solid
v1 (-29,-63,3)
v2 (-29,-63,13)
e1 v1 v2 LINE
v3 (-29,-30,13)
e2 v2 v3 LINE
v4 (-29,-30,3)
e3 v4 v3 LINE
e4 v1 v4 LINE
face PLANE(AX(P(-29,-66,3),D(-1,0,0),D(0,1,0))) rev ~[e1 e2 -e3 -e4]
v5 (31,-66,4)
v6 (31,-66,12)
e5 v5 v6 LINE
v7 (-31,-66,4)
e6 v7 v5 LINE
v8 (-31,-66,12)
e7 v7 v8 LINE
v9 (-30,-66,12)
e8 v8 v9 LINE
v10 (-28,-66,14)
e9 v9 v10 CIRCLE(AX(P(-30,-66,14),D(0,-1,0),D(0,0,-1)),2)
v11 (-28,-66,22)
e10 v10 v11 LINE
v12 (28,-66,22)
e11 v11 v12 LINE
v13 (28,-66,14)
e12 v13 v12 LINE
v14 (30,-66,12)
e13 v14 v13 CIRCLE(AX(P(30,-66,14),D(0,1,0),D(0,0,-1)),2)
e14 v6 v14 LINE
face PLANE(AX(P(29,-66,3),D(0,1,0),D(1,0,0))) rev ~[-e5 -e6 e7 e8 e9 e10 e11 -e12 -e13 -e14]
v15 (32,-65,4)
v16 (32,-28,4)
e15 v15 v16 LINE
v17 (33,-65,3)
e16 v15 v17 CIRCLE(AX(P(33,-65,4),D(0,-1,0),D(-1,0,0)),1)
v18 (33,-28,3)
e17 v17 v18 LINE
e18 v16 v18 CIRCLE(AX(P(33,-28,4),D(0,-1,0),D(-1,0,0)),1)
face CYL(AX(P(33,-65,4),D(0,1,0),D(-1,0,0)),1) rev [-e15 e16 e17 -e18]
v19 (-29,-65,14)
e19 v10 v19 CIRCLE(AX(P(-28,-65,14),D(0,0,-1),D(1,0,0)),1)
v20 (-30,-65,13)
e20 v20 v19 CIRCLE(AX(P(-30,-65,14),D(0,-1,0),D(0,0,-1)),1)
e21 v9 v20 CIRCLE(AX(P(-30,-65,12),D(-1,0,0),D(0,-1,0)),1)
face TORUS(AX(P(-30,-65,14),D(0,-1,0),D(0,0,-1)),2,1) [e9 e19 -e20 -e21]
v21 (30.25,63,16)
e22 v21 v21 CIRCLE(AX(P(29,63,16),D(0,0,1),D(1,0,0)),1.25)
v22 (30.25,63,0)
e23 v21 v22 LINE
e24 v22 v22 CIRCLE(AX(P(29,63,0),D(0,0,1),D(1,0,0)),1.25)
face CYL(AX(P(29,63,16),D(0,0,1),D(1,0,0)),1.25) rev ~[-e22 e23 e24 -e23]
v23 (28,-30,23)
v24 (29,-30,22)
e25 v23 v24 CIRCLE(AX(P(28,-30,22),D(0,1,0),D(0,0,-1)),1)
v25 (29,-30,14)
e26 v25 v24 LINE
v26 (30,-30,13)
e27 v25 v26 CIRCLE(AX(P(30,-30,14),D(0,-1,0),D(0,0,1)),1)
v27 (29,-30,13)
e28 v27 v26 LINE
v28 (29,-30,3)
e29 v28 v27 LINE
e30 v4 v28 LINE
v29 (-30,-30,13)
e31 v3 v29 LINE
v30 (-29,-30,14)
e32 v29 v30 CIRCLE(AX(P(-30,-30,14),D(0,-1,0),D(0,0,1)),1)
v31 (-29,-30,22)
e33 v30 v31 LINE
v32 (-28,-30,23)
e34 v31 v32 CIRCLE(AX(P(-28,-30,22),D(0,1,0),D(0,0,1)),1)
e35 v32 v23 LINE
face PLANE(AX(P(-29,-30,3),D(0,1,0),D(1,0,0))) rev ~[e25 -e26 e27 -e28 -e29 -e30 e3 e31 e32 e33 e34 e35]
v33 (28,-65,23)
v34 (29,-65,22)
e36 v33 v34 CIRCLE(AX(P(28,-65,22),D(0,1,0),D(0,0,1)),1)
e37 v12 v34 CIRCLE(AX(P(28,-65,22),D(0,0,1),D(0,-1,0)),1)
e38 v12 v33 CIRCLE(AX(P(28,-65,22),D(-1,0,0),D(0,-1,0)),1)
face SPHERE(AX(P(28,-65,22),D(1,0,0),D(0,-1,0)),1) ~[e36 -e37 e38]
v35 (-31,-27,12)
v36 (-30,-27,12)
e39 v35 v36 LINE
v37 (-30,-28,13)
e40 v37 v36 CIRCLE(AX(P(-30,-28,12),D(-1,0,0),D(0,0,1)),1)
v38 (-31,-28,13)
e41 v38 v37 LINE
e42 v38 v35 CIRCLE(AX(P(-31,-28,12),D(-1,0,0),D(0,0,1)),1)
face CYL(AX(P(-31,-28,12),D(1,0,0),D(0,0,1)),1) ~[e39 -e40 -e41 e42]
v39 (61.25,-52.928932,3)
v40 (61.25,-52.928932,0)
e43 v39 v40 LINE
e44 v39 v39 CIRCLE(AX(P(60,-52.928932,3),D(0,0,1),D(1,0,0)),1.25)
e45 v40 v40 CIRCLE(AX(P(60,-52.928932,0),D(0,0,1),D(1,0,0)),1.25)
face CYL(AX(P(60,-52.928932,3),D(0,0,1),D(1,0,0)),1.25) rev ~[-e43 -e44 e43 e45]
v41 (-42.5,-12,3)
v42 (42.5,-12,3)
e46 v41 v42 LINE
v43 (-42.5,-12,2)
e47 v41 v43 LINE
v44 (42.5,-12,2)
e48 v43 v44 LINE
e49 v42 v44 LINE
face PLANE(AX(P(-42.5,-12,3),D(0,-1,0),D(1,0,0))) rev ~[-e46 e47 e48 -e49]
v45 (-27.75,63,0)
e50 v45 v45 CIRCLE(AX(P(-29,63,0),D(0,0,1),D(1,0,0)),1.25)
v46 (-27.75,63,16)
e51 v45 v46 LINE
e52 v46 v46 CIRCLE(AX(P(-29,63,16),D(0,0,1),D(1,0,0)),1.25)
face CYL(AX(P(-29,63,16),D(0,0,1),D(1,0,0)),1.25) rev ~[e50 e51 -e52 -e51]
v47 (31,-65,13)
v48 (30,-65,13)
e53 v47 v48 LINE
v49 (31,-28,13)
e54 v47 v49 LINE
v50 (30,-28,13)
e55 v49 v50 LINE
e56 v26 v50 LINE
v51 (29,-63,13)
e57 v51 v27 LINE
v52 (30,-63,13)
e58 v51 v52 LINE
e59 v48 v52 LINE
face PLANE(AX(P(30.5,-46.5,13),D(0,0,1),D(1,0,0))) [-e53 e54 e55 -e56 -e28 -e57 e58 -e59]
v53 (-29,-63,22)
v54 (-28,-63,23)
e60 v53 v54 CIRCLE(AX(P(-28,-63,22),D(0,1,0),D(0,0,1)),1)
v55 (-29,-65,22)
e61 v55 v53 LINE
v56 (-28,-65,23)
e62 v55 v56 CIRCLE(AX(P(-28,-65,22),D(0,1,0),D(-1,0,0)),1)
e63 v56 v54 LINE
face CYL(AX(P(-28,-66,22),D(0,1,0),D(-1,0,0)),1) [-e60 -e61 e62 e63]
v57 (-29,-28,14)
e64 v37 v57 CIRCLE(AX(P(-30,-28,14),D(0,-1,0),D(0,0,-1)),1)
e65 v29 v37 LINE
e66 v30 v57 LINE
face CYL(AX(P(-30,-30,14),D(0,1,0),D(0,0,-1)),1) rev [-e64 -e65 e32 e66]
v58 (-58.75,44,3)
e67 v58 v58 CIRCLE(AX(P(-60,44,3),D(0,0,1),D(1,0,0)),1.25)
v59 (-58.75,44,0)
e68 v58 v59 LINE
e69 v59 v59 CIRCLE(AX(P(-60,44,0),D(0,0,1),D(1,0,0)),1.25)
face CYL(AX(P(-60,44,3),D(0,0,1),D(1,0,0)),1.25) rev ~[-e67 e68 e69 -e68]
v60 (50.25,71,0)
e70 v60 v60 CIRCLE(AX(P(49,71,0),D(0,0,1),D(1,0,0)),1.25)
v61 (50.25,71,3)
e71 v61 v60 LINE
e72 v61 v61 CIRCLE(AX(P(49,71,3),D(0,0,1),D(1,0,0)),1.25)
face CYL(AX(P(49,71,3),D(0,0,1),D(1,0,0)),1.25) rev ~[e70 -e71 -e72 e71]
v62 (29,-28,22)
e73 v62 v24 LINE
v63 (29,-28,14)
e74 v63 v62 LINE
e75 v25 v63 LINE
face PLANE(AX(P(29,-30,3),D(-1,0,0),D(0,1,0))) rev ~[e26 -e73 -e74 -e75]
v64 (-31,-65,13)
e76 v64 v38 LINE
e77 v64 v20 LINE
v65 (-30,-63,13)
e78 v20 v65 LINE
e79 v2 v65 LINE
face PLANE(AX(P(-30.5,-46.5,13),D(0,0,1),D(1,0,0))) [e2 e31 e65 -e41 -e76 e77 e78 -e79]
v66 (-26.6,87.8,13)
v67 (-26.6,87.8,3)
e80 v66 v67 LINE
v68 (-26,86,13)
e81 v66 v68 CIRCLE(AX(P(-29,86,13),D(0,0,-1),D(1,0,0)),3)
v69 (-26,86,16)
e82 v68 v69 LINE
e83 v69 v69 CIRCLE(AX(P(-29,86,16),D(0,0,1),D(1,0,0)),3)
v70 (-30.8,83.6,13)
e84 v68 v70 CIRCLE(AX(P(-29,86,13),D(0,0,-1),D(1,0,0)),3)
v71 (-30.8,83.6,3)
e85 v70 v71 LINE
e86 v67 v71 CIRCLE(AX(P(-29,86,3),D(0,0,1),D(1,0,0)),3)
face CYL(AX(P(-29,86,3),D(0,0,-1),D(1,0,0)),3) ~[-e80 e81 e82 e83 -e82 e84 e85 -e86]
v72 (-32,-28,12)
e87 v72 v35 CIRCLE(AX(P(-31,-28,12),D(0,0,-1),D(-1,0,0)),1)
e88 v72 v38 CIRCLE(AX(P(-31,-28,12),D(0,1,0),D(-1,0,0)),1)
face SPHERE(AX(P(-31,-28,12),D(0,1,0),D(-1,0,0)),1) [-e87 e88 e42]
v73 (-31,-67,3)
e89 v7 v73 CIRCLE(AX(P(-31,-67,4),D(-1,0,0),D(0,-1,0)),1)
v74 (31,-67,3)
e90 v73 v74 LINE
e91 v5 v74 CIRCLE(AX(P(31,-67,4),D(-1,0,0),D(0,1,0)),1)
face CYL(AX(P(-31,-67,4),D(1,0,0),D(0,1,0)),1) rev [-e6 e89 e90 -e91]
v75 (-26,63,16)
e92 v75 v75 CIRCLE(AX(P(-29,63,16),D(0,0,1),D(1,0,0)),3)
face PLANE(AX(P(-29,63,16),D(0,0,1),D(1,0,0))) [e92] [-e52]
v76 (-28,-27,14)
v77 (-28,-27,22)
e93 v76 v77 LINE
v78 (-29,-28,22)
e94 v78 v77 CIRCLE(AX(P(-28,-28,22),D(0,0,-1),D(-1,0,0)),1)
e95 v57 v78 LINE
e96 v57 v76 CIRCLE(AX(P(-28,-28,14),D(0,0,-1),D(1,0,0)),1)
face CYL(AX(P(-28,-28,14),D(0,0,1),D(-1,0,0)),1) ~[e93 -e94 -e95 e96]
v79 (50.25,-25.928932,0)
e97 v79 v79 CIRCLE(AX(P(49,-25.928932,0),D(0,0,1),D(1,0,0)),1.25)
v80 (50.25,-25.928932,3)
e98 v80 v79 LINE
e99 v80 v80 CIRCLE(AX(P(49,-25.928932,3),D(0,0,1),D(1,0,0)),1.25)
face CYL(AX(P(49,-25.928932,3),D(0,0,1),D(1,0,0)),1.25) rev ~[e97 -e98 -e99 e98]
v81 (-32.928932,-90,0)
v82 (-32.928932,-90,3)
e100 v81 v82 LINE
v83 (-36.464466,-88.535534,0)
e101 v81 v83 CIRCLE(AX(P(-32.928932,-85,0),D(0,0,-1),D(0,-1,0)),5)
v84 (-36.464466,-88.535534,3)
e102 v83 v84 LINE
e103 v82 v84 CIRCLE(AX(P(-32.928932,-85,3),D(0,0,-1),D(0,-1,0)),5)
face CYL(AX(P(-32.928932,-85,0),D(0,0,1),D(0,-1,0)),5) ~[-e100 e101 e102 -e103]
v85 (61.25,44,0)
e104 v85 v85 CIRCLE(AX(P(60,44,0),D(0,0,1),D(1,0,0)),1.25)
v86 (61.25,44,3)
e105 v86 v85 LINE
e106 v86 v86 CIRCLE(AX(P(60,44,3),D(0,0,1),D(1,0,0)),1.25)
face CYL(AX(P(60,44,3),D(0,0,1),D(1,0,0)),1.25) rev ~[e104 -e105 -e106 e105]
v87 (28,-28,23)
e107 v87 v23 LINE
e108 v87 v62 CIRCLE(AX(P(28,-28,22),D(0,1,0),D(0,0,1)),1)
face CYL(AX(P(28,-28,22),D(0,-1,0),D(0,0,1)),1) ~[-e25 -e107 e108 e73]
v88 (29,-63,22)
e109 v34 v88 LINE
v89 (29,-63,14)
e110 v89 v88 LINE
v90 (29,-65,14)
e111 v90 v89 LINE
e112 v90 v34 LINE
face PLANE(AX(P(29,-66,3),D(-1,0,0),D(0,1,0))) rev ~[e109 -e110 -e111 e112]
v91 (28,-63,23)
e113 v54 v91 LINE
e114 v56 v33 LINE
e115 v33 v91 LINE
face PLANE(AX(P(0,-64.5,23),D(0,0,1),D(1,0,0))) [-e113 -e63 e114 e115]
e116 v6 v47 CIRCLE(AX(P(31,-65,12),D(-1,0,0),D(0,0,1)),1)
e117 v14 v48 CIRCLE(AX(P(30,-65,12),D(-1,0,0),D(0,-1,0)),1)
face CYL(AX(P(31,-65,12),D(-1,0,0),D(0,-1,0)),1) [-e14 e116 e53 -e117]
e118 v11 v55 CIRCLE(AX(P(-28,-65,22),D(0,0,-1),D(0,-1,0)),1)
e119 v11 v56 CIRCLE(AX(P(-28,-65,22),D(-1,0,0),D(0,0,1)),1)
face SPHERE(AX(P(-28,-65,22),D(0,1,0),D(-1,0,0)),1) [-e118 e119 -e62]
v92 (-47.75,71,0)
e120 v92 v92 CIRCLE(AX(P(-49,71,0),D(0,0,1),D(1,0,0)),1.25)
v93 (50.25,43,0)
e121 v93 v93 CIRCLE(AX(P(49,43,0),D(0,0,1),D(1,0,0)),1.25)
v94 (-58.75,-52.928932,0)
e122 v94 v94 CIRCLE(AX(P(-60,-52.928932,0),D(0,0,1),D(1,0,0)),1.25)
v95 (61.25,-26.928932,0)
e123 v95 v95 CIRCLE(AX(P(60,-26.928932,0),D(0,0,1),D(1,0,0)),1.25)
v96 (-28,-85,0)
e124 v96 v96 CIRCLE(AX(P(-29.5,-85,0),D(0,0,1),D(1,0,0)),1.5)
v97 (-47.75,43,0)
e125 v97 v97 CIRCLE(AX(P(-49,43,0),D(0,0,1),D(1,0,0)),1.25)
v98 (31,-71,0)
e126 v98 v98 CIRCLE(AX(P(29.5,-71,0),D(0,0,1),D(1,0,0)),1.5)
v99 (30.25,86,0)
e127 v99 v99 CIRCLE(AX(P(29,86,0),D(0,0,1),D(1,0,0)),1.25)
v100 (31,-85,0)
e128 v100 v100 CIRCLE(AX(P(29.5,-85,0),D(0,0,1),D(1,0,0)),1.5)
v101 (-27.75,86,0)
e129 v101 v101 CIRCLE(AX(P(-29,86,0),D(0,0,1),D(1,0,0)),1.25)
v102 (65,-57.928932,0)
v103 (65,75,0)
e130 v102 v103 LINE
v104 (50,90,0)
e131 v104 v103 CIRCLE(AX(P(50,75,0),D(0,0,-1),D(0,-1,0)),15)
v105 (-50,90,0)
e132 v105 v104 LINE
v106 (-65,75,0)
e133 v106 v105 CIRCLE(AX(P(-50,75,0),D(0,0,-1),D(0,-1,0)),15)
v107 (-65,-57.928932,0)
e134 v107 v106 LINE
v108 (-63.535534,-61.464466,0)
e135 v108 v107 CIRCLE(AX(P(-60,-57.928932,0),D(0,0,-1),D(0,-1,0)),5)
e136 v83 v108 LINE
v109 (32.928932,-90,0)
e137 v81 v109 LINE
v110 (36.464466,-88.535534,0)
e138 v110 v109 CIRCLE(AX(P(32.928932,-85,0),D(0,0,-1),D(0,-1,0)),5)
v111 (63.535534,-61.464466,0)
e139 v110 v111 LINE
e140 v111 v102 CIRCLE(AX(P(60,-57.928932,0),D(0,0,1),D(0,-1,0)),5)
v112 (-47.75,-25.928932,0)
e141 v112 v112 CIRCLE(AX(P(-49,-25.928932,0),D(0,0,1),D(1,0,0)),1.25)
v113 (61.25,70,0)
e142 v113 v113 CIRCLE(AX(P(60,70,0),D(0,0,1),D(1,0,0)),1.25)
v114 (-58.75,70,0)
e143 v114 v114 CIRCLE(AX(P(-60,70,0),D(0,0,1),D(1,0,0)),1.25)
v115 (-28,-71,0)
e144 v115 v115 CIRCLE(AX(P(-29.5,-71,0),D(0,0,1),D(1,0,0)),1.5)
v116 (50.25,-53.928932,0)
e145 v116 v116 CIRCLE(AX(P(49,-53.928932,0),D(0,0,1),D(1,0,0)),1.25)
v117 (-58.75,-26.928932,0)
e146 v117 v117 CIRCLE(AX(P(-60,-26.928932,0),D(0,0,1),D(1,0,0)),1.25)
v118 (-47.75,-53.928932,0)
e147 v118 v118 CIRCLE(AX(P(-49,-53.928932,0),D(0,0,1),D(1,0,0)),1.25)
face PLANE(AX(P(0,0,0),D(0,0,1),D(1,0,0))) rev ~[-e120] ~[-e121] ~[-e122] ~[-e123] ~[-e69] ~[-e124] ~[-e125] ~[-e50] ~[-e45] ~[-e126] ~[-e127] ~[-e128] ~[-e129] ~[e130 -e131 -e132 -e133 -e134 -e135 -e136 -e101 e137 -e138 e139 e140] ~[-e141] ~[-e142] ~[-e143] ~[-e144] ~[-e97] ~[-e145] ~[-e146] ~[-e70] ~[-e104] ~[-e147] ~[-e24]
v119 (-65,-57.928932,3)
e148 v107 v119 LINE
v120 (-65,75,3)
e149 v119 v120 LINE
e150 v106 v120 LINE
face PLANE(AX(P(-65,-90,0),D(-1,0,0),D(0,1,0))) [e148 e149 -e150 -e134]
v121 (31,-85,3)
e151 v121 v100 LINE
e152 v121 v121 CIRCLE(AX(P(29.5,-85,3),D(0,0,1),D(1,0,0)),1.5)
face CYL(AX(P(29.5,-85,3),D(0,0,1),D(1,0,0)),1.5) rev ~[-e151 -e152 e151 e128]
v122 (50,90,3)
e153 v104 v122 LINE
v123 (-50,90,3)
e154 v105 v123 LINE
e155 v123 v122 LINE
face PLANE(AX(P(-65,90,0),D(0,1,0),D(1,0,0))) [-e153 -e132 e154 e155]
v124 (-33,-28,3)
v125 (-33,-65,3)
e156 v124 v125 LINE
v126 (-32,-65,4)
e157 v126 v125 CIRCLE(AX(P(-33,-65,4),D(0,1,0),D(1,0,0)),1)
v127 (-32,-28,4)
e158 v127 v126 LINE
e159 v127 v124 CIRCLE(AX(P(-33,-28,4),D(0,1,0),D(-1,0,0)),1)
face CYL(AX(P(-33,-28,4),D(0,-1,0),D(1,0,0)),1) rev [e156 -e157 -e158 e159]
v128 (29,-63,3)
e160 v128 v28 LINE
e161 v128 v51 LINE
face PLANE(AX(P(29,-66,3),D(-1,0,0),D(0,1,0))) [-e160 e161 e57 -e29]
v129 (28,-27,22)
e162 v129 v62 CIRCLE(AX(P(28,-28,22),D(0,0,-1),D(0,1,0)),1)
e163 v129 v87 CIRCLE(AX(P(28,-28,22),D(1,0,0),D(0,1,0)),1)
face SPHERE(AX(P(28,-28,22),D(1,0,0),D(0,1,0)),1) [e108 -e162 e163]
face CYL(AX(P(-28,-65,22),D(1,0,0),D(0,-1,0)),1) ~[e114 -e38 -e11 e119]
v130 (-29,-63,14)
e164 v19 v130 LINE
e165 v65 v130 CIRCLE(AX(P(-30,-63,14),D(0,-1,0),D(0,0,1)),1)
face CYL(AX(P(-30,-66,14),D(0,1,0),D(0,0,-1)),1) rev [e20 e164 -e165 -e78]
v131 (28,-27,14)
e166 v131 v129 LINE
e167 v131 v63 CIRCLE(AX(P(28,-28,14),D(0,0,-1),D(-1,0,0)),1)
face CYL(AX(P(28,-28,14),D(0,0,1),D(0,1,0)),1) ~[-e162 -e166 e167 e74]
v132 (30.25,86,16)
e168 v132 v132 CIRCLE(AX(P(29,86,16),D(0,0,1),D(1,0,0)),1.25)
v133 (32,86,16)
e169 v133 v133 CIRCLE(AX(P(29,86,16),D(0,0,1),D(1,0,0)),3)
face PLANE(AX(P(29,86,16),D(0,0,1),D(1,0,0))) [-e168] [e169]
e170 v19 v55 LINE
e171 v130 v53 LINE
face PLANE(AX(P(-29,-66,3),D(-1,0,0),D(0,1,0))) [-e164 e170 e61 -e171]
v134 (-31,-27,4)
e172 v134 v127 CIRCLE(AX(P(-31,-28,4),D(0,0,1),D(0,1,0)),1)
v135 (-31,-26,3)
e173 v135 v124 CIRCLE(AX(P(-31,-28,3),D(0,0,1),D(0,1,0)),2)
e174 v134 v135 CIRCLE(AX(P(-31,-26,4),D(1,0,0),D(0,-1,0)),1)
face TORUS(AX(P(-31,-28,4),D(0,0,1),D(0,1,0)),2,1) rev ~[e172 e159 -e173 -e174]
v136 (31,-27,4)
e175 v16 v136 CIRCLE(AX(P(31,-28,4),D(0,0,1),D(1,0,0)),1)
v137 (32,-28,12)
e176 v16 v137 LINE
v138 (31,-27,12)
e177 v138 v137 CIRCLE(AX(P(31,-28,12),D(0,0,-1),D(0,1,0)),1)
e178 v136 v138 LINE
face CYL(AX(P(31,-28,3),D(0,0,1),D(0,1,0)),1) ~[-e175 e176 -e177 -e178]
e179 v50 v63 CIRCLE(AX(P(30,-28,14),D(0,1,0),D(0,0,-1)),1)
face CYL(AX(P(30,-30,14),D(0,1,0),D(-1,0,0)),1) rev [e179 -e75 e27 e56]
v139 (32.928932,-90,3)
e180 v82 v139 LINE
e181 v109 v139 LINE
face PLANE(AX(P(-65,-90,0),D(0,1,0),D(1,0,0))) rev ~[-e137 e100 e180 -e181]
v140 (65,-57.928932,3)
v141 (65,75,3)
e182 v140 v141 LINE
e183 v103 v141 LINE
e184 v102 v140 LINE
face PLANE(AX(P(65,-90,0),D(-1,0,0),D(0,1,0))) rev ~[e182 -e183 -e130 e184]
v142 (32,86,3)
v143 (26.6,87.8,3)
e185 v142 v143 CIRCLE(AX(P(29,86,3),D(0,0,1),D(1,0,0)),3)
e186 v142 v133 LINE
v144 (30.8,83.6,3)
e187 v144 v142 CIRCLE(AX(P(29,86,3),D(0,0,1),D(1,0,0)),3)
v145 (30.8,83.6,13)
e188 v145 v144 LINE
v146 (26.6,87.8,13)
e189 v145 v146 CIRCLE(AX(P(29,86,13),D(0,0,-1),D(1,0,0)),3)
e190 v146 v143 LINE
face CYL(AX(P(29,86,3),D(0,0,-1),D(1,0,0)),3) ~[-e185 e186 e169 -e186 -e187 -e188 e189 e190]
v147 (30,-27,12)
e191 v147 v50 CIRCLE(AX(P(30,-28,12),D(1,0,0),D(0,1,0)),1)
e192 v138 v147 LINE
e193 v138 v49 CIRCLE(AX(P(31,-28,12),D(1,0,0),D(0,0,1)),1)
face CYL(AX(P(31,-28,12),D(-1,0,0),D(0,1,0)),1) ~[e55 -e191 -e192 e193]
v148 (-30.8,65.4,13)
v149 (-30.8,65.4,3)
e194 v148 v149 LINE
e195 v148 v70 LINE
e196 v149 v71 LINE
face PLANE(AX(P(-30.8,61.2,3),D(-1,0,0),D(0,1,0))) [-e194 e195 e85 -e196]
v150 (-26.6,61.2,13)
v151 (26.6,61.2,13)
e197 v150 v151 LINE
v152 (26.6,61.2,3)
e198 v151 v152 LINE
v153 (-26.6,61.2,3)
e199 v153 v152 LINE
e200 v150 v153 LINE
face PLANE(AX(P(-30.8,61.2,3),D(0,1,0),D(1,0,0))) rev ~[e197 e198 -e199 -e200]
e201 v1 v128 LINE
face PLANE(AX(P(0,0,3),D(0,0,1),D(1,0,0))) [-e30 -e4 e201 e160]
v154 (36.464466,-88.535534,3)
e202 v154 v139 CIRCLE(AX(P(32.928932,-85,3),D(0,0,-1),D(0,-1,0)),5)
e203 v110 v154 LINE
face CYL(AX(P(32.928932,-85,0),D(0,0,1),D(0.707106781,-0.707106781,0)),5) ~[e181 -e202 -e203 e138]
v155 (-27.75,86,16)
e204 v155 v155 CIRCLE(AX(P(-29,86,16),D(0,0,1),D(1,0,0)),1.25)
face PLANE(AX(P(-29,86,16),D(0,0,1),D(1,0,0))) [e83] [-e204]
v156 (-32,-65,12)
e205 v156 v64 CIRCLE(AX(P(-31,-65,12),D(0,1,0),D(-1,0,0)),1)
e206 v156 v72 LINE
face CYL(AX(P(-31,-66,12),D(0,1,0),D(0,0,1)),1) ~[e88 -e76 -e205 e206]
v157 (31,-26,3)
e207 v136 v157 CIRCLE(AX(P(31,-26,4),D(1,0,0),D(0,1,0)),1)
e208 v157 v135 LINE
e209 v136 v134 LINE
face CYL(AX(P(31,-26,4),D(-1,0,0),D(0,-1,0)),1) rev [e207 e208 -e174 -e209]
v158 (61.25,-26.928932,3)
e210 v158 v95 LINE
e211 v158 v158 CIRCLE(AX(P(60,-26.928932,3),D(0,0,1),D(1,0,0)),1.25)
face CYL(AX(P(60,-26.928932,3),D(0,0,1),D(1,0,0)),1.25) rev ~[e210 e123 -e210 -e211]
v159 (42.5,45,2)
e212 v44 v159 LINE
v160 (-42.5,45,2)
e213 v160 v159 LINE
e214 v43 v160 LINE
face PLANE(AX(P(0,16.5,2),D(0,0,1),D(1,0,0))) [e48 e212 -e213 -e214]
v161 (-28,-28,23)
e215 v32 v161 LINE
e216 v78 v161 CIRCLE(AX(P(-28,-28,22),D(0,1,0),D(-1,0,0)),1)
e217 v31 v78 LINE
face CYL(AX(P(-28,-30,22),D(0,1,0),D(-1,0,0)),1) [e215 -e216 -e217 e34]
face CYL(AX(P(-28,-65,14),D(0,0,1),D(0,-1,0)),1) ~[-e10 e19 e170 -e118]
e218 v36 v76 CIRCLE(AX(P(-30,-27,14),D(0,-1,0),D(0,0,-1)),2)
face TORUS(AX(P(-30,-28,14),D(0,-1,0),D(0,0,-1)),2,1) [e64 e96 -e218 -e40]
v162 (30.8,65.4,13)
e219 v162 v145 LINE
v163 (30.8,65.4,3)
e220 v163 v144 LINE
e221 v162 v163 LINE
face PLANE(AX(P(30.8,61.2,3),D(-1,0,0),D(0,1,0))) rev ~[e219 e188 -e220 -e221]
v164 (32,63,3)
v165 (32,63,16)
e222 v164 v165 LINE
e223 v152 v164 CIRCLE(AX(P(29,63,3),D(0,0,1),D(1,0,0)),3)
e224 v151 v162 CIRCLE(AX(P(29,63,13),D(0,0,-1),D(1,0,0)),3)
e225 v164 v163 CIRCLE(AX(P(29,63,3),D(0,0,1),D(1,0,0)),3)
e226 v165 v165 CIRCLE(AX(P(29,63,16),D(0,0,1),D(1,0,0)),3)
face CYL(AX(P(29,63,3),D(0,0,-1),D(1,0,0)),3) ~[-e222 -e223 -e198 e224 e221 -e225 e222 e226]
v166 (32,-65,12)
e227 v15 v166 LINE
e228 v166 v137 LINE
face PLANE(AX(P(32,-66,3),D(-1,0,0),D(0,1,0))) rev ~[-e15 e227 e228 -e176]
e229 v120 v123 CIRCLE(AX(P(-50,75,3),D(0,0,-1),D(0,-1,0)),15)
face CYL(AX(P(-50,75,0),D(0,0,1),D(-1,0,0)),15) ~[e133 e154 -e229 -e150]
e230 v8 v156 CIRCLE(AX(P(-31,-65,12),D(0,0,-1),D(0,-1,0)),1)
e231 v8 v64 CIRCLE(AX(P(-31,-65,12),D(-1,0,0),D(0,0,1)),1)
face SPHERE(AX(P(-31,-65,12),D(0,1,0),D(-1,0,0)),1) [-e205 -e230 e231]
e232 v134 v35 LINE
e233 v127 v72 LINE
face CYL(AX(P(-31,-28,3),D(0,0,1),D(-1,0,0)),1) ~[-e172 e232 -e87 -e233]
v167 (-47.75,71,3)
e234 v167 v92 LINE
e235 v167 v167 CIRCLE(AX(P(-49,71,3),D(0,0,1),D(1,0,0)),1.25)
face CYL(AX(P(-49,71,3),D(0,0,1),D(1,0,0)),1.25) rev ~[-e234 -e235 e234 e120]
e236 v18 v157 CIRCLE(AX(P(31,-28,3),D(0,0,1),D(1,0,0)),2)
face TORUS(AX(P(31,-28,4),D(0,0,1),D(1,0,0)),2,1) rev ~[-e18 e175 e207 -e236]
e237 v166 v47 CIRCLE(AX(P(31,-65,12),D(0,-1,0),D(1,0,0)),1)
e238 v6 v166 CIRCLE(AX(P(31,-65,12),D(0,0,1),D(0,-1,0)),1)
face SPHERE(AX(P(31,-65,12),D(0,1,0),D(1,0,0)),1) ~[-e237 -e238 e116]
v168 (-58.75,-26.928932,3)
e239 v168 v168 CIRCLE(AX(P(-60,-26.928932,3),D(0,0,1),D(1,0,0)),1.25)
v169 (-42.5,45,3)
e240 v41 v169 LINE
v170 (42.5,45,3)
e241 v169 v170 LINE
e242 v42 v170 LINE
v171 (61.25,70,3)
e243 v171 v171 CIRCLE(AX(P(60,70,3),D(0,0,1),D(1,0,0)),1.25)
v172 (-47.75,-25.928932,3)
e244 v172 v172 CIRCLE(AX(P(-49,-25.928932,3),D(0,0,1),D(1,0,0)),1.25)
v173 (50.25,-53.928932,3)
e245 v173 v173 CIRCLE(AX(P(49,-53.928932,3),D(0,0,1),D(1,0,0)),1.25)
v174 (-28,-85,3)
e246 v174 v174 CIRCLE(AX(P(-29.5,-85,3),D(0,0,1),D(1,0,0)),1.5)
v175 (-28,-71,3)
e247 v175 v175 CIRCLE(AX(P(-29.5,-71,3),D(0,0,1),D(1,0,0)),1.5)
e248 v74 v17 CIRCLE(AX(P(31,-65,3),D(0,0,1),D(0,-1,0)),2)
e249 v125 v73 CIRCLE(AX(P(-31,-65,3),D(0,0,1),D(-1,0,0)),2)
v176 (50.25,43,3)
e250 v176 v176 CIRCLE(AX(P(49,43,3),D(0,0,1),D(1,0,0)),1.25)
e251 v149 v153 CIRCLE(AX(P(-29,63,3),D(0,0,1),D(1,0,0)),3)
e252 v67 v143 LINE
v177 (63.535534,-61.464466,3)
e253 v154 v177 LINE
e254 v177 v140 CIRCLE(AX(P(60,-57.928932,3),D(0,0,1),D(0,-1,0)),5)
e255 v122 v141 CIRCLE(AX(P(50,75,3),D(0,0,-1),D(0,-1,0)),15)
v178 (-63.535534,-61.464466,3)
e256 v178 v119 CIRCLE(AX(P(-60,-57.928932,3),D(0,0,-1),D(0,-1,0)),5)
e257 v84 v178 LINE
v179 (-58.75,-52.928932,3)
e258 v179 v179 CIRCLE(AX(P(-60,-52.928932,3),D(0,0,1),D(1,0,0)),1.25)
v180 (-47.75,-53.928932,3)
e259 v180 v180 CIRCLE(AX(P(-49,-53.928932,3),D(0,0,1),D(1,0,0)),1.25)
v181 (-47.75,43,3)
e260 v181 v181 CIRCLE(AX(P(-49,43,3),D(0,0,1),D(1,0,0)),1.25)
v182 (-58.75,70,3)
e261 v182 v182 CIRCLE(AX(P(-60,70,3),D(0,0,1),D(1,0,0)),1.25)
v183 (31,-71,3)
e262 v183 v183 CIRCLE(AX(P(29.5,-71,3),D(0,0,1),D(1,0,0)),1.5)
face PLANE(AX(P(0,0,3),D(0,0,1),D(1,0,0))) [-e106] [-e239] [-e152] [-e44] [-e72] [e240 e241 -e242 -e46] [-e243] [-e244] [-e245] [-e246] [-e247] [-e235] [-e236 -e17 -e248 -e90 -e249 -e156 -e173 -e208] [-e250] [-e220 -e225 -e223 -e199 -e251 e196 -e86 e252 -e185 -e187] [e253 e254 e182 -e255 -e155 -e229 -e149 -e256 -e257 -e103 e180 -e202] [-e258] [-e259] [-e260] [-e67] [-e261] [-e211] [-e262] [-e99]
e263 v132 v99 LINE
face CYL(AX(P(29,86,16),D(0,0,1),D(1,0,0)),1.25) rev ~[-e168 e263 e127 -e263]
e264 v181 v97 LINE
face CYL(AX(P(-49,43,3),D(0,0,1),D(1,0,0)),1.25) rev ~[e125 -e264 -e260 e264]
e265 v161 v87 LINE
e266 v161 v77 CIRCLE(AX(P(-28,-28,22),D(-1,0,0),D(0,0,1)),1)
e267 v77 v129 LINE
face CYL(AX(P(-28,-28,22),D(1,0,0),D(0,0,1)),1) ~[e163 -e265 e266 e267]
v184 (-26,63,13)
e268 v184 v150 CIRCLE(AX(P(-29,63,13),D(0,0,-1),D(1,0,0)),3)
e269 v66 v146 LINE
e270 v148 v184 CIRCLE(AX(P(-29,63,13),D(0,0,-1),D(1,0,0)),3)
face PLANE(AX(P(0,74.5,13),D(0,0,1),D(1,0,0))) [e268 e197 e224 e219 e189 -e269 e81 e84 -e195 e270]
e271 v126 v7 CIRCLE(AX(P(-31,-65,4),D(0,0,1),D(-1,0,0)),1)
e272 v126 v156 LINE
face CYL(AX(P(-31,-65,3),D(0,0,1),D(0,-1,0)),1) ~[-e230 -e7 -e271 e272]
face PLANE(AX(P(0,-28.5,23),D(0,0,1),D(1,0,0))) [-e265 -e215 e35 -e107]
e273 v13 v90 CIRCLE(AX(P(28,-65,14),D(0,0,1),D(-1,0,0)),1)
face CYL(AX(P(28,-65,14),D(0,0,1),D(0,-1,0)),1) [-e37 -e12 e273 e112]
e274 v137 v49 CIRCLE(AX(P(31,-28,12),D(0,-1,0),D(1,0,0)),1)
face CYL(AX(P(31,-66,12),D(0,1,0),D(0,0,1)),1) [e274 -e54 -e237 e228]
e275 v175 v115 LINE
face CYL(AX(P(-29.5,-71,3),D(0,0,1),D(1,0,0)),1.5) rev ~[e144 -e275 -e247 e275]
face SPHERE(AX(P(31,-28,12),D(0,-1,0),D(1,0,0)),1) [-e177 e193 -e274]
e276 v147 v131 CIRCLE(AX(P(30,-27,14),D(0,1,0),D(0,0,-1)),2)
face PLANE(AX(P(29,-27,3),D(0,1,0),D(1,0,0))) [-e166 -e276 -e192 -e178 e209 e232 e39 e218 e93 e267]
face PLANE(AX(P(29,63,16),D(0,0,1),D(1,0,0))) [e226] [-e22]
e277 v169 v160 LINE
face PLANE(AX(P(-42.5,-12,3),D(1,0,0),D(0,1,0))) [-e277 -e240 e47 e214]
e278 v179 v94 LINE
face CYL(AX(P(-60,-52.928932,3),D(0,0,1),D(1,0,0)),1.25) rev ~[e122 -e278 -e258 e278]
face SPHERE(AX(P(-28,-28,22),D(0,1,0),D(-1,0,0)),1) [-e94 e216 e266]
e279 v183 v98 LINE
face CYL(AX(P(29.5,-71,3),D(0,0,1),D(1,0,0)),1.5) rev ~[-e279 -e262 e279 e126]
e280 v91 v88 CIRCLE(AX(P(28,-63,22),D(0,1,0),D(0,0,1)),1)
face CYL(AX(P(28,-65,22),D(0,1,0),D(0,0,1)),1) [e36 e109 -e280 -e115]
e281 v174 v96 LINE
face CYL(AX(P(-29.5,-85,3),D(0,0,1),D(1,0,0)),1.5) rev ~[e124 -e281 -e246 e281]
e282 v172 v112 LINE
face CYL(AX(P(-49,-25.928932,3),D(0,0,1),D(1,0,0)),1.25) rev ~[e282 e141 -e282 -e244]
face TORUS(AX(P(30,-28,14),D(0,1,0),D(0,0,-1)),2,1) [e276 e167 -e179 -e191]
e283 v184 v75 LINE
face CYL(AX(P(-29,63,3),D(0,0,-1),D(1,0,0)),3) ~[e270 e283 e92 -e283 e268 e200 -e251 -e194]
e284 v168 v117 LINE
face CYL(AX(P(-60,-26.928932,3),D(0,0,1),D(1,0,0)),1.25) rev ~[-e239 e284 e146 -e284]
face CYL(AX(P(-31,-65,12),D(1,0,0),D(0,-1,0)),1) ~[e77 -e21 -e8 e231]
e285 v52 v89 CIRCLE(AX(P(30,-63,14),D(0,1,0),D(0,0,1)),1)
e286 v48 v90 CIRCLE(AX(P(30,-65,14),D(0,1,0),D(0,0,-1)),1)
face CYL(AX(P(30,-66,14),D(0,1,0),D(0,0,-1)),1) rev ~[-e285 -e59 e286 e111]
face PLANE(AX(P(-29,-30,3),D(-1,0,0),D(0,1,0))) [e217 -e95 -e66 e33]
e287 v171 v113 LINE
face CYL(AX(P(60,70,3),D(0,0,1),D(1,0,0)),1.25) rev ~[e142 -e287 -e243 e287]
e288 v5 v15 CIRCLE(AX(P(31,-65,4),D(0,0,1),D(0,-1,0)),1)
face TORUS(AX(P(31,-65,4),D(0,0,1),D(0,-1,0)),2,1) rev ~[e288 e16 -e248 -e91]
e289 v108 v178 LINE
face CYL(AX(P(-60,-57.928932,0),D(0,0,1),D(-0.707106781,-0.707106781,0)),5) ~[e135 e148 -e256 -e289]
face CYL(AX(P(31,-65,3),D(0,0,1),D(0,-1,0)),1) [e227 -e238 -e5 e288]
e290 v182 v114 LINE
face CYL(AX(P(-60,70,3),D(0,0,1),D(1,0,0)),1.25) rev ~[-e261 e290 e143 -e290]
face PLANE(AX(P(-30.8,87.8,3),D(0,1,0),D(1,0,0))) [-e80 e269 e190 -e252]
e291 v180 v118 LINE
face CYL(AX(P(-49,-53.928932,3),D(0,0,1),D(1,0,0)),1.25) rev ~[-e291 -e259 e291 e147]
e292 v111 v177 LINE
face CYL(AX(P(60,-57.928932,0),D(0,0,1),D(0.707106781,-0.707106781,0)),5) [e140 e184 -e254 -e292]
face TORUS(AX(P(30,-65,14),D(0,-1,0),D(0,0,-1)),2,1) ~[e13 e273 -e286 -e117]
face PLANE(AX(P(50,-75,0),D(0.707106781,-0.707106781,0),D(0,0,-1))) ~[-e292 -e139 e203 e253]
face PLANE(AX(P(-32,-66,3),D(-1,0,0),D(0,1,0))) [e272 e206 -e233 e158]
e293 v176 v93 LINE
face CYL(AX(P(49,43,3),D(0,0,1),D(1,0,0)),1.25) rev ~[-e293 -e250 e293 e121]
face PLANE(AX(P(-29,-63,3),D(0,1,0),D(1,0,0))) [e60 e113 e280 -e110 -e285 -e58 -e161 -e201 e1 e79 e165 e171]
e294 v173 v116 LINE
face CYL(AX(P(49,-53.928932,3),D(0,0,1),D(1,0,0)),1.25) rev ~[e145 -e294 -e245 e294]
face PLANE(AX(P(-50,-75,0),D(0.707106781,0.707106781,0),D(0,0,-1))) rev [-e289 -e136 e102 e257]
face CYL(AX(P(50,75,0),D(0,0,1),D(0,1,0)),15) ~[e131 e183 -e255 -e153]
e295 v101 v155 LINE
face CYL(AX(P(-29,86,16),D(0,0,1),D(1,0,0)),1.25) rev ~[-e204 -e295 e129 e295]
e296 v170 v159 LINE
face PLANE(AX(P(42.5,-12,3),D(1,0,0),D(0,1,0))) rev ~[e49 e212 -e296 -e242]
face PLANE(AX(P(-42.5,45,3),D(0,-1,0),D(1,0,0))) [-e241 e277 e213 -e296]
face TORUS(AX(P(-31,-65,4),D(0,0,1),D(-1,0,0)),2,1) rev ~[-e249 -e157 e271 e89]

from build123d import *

# Parameters (mm, degrees)
SKETCH_W        = 130
SKETCH_H        = 180
PAD_DEPTH       = 3
CHAMFER_SIZE    = 30
CHAMFER001_SIZE = 30
FILLET_R        = 5
FILLET001_R     = 5
FILLET002_R     = 5
FILLET003_R     = 5
FILLET004_R     = 15
FILLET005_R     = 15
SKETCH003_R     = 3
PAD003_DEPTH    = 13
SKETCH004_R     = 1.25
POCKET002_DEPTH = 16.001
SKETCH005_W     = 85
SKETCH005_H     = 57
POCKET003_DEPTH = 1
SKETCH006_W     = 58
SKETCH006_H     = 3
PAD004_DEPTH    = 20
SKETCH007_W     = 3
SKETCH007_H     = 39
PAD005_DEPTH    = 10
FILLET013_R     = 1
FILLET014_R     = 1
FILLET015_R     = 1
FILLET016_R     = 1
FILLET017_R     = 1
FILLET018_R     = 1
FILLET019_R     = 1
FILLET020_R     = 1
FILLET021_R     = 1
FILLET022_R     = 1
FILLET023_R     = 1
FILLET024_R     = 1
FILLET025_R     = 1
SKETCH008_R     = 1.25
SKETCH008_R_2   = 1
POCKET004_DEPTH = 3.001
SKETCH009_R     = 1.5
POCKET005_DEPTH = 3.001
SKETCH010_W     = 61.6
SKETCH010_H     = 26.6
PAD006_DEPTH    = 10
SKETCH011_R     = 1.25
POCKET006_DEPTH = 16.001
SKETCH012_R     = 1.25
POCKET007_DEPTH = 3.001


with BuildPart() as part:
    # Sketch → Pad (new body)
    with BuildSketch(Plane.XY):
        Rectangle(SKETCH_W, SKETCH_H)
    extrude(amount=PAD_DEPTH)

    # Chamfer
    chamfer_edges = [part.edges().sort_by_distance(p)[0] for p in [
        (65, -90, 1.5),
    ]]
    chamfer(chamfer_edges, length=CHAMFER_SIZE)

    # Chamfer001
    chamfer001_edges = [part.edges().sort_by_distance(p)[0] for p in [
        (-65, -90, 1.5),
    ]]
    chamfer(chamfer001_edges, length=CHAMFER001_SIZE)

    # Fillet
    fillet_edges = [part.edges().sort_by_distance(p)[0] for p in [
        (65, -60, 1.5),
    ]]
    fillet(fillet_edges, radius=FILLET_R)

    # Fillet001
    fillet001_edges = [part.edges().sort_by_distance(p)[0] for p in [
        (35, -90, 1.5),
    ]]
    fillet(fillet001_edges, radius=FILLET001_R)

    # Fillet002
    fillet002_edges = [part.edges().sort_by_distance(p)[0] for p in [
        (-35, -90, 1.5),
    ]]
    fillet(fillet002_edges, radius=FILLET002_R)

    # Fillet003
    fillet003_edges = [part.edges().sort_by_distance(p)[0] for p in [
        (-65, -60, 1.5),
    ]]
    fillet(fillet003_edges, radius=FILLET003_R)

    # Fillet004
    fillet004_edges = [part.edges().sort_by_distance(p)[0] for p in [
        (-65, 90, 1.5),
    ]]
    fillet(fillet004_edges, radius=FILLET004_R)

    # Fillet005
    fillet005_edges = [part.edges().sort_by_distance(p)[0] for p in [
        (65, 90, 1.5),
    ]]
    fillet(fillet005_edges, radius=FILLET005_R)

    # Sketch003 (on Face14 of Fillet005) → Pad003 (join)
    with BuildSketch(Plane.XY.offset(3)):
        with Locations((-29, 86)):
            Circle(SKETCH003_R)
        with Locations((29, 86)):
            Circle(SKETCH003_R)
        with Locations((-29, 63)):
            Circle(SKETCH003_R)
        with Locations((29, 63)):
            Circle(SKETCH003_R)
    extrude(amount=PAD003_DEPTH)

    # Sketch004 (on Face20 of Pad003) → Pocket002 (cut, through all)
    with BuildSketch(Plane.XY.offset(16)):
        with Locations((-29, 86)):
            Circle(SKETCH004_R)
        with Locations((29, 86)):
            Circle(SKETCH004_R)
        with Locations((29, 63)):
            Circle(SKETCH004_R)
        with Locations((-29, 63)):
            Circle(SKETCH004_R)
    extrude(amount=-POCKET002_DEPTH, mode=Mode.SUBTRACT)

    # Sketch005 (on Face18 of Pocket002) → Pocket003 (cut)
    with BuildSketch(Plane.XY.offset(3)):
        with Locations((0, 16.5)):
            Rectangle(SKETCH005_W, SKETCH005_H)
    extrude(amount=-POCKET003_DEPTH, mode=Mode.SUBTRACT)

    # Sketch006 (on Face18 of Pocket003) → Pad004 (join)
    with BuildSketch(Plane.XY.offset(3)):
        with Locations((0, -28.5)):
            Rectangle(SKETCH006_W, SKETCH006_H)
        with Locations((0, -64.5)):
            Rectangle(SKETCH006_W, SKETCH006_H)
    extrude(amount=PAD004_DEPTH)

    # Sketch007 (on Face18 of Pad004) → Pad005 (join)
    with BuildSketch(Plane.XY.offset(3)):
        with Locations((30.5, -46.5)):
            Rectangle(SKETCH007_W, SKETCH007_H)
        with Locations((-30.5, -46.5)):
            Rectangle(SKETCH007_W, SKETCH007_H)
    extrude(amount=PAD005_DEPTH)

    # Fillet013
    fillet013_edges = [part.edges().sort_by_distance(p)[0] for p in [
        (-29, -28.5, 13),
    ]]
    fillet(fillet013_edges, radius=FILLET013_R)

    # Fillet014
    fillet014_edges = [part.edges().sort_by_distance(p)[0] for p in [
        (-29, -64.5, 13),
    ]]
    fillet(fillet014_edges, radius=FILLET014_R)

    # Fillet015
    fillet015_edges = [part.edges().sort_by_distance(p)[0] for p in [
        (-29, -28.5, 23),
    ]]
    fillet(fillet015_edges, radius=FILLET015_R)

    # Fillet016
    fillet016_edges = [part.edges().sort_by_distance(p)[0] for p in [
        (-29, -64.5, 23),
    ]]
    fillet(fillet016_edges, radius=FILLET016_R)

    # Fillet017
    fillet017_edges = [part.edges().sort_by_distance(p)[0] for p in [
        (-32, -46.5, 13),
    ]]
    fillet(fillet017_edges, radius=FILLET017_R)

    # Fillet018
    fillet018_edges = [part.edges().sort_by_distance(p)[0] for p in [
        (-32, -27, 7.5),
    ]]
    fillet(fillet018_edges, radius=FILLET018_R)

    # Fillet019
    fillet019_edges = [part.edges().sort_by_distance(p)[0] for p in [
        (-32, -66, 7.5),
    ]]
    fillet(fillet019_edges, radius=FILLET019_R)

    # Fillet020
    fillet020_edges = [part.edges().sort_by_distance(p)[0] for p in [
        (29, -28.5, 13),
    ]]
    fillet(fillet020_edges, radius=FILLET020_R)

    # Fillet021
    fillet021_edges = [part.edges().sort_by_distance(p)[0] for p in [
        (29, -64.5, 13),
    ]]
    fillet(fillet021_edges, radius=FILLET021_R)

    # Fillet022
    fillet022_edges = [part.edges().sort_by_distance(p)[0] for p in [
        (32, -46.5, 13),
    ]]
    fillet(fillet022_edges, radius=FILLET022_R)

    # Fillet023
    fillet023_edges = [part.edges().sort_by_distance(p)[0] for p in [
        (29, -27, 18),
    ]]
    fillet(fillet023_edges, radius=FILLET023_R)

    # Fillet024
    fillet024_edges = [part.edges().sort_by_distance(p)[0] for p in [
        (29, -66, 18),
    ]]
    fillet(fillet024_edges, radius=FILLET024_R)

    # Fillet025
    fillet025_edges = [part.edges().sort_by_distance(p)[0] for p in [
        (32, -46.5, 3),
    ]]
    fillet(fillet025_edges, radius=FILLET025_R)

    # Sketch008 (on Face10 of Fillet025) → Pocket004 (cut, through all)
    with BuildSketch(Plane.XY.offset(3)):
        with Locations((-60, -52.928932)):
            Circle(SKETCH008_R)
        with Locations((-49, -53.928932)):
            Circle(SKETCH008_R)
        with Locations((-60, -26.928932)):
            Circle(SKETCH008_R)
        with Locations((-49, -25.928932)):
            Circle(SKETCH008_R)
        with Locations((60, -52.928932)):
            Circle(SKETCH008_R)
        with Locations((49, -53.928932)):
            Circle(SKETCH008_R)
        with Locations((60, -26.928932)):
            Circle(SKETCH008_R)
        with Locations((49, -25.928932)):
            Circle(SKETCH008_R)
        with Locations((-60, 70)):
            Circle(SKETCH008_R)
        with Locations((-49, 71)):
            Circle(SKETCH008_R)
        with Locations((-49, 43)):
            Circle(SKETCH008_R)
        with Locations((-60, 44)):
            Circle(SKETCH008_R)
        with Locations((60, 70)):
            Circle(SKETCH008_R_2)
        with Locations((60, 44)):
            Circle(SKETCH008_R_2)
        with Locations((49, 71)):
            Circle(SKETCH008_R)
        with Locations((49, 43)):
            Circle(SKETCH008_R_2)
    extrude(amount=-POCKET004_DEPTH, mode=Mode.SUBTRACT)

    # Sketch009 (on Face10 of Pocket004) → Pocket005 (cut, through all)
    with BuildSketch(Plane.XY.offset(3)):
        with Locations((29.5, -71)):
            Circle(SKETCH009_R)
        with Locations((-29.5, -71)):
            Circle(SKETCH009_R)
        with Locations((-29.5, -85)):
            Circle(SKETCH009_R)
        with Locations((29.5, -85)):
            Circle(SKETCH009_R)
    extrude(amount=-POCKET005_DEPTH, mode=Mode.SUBTRACT)

    # Sketch010 (on Face10 of Pocket005) → Pad006 (join)
    with BuildSketch(Plane.XY.offset(3)):
        with Locations((0, 74.5)):
            Rectangle(SKETCH010_W, SKETCH010_H)
    extrude(amount=PAD006_DEPTH)

    # Sketch011 (on Face86 of Pad006) → Pocket006 (cut, through all)
    with BuildSketch(Plane.XY.offset(16)):
        with Locations((-29, 86)):
            Circle(SKETCH011_R)
        with Locations((29, 86)):
            Circle(SKETCH011_R)
        with Locations((29, 63)):
            Circle(SKETCH011_R)
        with Locations((-29, 63)):
            Circle(SKETCH011_R)
    extrude(amount=-POCKET006_DEPTH, mode=Mode.SUBTRACT)

    # Sketch012 (on Face10 of Pocket006) → Pocket007 (cut, through all)
    with BuildSketch(Plane.XY.offset(3)):
        with Locations((60, 70)):
            Circle(SKETCH012_R)
        with Locations((60, 44)):
            Circle(SKETCH012_R)
        with Locations((49, 43)):
            Circle(SKETCH012_R)
    extrude(amount=-POCKET007_DEPTH, mode=Mode.SUBTRACT)


solid = part.part
